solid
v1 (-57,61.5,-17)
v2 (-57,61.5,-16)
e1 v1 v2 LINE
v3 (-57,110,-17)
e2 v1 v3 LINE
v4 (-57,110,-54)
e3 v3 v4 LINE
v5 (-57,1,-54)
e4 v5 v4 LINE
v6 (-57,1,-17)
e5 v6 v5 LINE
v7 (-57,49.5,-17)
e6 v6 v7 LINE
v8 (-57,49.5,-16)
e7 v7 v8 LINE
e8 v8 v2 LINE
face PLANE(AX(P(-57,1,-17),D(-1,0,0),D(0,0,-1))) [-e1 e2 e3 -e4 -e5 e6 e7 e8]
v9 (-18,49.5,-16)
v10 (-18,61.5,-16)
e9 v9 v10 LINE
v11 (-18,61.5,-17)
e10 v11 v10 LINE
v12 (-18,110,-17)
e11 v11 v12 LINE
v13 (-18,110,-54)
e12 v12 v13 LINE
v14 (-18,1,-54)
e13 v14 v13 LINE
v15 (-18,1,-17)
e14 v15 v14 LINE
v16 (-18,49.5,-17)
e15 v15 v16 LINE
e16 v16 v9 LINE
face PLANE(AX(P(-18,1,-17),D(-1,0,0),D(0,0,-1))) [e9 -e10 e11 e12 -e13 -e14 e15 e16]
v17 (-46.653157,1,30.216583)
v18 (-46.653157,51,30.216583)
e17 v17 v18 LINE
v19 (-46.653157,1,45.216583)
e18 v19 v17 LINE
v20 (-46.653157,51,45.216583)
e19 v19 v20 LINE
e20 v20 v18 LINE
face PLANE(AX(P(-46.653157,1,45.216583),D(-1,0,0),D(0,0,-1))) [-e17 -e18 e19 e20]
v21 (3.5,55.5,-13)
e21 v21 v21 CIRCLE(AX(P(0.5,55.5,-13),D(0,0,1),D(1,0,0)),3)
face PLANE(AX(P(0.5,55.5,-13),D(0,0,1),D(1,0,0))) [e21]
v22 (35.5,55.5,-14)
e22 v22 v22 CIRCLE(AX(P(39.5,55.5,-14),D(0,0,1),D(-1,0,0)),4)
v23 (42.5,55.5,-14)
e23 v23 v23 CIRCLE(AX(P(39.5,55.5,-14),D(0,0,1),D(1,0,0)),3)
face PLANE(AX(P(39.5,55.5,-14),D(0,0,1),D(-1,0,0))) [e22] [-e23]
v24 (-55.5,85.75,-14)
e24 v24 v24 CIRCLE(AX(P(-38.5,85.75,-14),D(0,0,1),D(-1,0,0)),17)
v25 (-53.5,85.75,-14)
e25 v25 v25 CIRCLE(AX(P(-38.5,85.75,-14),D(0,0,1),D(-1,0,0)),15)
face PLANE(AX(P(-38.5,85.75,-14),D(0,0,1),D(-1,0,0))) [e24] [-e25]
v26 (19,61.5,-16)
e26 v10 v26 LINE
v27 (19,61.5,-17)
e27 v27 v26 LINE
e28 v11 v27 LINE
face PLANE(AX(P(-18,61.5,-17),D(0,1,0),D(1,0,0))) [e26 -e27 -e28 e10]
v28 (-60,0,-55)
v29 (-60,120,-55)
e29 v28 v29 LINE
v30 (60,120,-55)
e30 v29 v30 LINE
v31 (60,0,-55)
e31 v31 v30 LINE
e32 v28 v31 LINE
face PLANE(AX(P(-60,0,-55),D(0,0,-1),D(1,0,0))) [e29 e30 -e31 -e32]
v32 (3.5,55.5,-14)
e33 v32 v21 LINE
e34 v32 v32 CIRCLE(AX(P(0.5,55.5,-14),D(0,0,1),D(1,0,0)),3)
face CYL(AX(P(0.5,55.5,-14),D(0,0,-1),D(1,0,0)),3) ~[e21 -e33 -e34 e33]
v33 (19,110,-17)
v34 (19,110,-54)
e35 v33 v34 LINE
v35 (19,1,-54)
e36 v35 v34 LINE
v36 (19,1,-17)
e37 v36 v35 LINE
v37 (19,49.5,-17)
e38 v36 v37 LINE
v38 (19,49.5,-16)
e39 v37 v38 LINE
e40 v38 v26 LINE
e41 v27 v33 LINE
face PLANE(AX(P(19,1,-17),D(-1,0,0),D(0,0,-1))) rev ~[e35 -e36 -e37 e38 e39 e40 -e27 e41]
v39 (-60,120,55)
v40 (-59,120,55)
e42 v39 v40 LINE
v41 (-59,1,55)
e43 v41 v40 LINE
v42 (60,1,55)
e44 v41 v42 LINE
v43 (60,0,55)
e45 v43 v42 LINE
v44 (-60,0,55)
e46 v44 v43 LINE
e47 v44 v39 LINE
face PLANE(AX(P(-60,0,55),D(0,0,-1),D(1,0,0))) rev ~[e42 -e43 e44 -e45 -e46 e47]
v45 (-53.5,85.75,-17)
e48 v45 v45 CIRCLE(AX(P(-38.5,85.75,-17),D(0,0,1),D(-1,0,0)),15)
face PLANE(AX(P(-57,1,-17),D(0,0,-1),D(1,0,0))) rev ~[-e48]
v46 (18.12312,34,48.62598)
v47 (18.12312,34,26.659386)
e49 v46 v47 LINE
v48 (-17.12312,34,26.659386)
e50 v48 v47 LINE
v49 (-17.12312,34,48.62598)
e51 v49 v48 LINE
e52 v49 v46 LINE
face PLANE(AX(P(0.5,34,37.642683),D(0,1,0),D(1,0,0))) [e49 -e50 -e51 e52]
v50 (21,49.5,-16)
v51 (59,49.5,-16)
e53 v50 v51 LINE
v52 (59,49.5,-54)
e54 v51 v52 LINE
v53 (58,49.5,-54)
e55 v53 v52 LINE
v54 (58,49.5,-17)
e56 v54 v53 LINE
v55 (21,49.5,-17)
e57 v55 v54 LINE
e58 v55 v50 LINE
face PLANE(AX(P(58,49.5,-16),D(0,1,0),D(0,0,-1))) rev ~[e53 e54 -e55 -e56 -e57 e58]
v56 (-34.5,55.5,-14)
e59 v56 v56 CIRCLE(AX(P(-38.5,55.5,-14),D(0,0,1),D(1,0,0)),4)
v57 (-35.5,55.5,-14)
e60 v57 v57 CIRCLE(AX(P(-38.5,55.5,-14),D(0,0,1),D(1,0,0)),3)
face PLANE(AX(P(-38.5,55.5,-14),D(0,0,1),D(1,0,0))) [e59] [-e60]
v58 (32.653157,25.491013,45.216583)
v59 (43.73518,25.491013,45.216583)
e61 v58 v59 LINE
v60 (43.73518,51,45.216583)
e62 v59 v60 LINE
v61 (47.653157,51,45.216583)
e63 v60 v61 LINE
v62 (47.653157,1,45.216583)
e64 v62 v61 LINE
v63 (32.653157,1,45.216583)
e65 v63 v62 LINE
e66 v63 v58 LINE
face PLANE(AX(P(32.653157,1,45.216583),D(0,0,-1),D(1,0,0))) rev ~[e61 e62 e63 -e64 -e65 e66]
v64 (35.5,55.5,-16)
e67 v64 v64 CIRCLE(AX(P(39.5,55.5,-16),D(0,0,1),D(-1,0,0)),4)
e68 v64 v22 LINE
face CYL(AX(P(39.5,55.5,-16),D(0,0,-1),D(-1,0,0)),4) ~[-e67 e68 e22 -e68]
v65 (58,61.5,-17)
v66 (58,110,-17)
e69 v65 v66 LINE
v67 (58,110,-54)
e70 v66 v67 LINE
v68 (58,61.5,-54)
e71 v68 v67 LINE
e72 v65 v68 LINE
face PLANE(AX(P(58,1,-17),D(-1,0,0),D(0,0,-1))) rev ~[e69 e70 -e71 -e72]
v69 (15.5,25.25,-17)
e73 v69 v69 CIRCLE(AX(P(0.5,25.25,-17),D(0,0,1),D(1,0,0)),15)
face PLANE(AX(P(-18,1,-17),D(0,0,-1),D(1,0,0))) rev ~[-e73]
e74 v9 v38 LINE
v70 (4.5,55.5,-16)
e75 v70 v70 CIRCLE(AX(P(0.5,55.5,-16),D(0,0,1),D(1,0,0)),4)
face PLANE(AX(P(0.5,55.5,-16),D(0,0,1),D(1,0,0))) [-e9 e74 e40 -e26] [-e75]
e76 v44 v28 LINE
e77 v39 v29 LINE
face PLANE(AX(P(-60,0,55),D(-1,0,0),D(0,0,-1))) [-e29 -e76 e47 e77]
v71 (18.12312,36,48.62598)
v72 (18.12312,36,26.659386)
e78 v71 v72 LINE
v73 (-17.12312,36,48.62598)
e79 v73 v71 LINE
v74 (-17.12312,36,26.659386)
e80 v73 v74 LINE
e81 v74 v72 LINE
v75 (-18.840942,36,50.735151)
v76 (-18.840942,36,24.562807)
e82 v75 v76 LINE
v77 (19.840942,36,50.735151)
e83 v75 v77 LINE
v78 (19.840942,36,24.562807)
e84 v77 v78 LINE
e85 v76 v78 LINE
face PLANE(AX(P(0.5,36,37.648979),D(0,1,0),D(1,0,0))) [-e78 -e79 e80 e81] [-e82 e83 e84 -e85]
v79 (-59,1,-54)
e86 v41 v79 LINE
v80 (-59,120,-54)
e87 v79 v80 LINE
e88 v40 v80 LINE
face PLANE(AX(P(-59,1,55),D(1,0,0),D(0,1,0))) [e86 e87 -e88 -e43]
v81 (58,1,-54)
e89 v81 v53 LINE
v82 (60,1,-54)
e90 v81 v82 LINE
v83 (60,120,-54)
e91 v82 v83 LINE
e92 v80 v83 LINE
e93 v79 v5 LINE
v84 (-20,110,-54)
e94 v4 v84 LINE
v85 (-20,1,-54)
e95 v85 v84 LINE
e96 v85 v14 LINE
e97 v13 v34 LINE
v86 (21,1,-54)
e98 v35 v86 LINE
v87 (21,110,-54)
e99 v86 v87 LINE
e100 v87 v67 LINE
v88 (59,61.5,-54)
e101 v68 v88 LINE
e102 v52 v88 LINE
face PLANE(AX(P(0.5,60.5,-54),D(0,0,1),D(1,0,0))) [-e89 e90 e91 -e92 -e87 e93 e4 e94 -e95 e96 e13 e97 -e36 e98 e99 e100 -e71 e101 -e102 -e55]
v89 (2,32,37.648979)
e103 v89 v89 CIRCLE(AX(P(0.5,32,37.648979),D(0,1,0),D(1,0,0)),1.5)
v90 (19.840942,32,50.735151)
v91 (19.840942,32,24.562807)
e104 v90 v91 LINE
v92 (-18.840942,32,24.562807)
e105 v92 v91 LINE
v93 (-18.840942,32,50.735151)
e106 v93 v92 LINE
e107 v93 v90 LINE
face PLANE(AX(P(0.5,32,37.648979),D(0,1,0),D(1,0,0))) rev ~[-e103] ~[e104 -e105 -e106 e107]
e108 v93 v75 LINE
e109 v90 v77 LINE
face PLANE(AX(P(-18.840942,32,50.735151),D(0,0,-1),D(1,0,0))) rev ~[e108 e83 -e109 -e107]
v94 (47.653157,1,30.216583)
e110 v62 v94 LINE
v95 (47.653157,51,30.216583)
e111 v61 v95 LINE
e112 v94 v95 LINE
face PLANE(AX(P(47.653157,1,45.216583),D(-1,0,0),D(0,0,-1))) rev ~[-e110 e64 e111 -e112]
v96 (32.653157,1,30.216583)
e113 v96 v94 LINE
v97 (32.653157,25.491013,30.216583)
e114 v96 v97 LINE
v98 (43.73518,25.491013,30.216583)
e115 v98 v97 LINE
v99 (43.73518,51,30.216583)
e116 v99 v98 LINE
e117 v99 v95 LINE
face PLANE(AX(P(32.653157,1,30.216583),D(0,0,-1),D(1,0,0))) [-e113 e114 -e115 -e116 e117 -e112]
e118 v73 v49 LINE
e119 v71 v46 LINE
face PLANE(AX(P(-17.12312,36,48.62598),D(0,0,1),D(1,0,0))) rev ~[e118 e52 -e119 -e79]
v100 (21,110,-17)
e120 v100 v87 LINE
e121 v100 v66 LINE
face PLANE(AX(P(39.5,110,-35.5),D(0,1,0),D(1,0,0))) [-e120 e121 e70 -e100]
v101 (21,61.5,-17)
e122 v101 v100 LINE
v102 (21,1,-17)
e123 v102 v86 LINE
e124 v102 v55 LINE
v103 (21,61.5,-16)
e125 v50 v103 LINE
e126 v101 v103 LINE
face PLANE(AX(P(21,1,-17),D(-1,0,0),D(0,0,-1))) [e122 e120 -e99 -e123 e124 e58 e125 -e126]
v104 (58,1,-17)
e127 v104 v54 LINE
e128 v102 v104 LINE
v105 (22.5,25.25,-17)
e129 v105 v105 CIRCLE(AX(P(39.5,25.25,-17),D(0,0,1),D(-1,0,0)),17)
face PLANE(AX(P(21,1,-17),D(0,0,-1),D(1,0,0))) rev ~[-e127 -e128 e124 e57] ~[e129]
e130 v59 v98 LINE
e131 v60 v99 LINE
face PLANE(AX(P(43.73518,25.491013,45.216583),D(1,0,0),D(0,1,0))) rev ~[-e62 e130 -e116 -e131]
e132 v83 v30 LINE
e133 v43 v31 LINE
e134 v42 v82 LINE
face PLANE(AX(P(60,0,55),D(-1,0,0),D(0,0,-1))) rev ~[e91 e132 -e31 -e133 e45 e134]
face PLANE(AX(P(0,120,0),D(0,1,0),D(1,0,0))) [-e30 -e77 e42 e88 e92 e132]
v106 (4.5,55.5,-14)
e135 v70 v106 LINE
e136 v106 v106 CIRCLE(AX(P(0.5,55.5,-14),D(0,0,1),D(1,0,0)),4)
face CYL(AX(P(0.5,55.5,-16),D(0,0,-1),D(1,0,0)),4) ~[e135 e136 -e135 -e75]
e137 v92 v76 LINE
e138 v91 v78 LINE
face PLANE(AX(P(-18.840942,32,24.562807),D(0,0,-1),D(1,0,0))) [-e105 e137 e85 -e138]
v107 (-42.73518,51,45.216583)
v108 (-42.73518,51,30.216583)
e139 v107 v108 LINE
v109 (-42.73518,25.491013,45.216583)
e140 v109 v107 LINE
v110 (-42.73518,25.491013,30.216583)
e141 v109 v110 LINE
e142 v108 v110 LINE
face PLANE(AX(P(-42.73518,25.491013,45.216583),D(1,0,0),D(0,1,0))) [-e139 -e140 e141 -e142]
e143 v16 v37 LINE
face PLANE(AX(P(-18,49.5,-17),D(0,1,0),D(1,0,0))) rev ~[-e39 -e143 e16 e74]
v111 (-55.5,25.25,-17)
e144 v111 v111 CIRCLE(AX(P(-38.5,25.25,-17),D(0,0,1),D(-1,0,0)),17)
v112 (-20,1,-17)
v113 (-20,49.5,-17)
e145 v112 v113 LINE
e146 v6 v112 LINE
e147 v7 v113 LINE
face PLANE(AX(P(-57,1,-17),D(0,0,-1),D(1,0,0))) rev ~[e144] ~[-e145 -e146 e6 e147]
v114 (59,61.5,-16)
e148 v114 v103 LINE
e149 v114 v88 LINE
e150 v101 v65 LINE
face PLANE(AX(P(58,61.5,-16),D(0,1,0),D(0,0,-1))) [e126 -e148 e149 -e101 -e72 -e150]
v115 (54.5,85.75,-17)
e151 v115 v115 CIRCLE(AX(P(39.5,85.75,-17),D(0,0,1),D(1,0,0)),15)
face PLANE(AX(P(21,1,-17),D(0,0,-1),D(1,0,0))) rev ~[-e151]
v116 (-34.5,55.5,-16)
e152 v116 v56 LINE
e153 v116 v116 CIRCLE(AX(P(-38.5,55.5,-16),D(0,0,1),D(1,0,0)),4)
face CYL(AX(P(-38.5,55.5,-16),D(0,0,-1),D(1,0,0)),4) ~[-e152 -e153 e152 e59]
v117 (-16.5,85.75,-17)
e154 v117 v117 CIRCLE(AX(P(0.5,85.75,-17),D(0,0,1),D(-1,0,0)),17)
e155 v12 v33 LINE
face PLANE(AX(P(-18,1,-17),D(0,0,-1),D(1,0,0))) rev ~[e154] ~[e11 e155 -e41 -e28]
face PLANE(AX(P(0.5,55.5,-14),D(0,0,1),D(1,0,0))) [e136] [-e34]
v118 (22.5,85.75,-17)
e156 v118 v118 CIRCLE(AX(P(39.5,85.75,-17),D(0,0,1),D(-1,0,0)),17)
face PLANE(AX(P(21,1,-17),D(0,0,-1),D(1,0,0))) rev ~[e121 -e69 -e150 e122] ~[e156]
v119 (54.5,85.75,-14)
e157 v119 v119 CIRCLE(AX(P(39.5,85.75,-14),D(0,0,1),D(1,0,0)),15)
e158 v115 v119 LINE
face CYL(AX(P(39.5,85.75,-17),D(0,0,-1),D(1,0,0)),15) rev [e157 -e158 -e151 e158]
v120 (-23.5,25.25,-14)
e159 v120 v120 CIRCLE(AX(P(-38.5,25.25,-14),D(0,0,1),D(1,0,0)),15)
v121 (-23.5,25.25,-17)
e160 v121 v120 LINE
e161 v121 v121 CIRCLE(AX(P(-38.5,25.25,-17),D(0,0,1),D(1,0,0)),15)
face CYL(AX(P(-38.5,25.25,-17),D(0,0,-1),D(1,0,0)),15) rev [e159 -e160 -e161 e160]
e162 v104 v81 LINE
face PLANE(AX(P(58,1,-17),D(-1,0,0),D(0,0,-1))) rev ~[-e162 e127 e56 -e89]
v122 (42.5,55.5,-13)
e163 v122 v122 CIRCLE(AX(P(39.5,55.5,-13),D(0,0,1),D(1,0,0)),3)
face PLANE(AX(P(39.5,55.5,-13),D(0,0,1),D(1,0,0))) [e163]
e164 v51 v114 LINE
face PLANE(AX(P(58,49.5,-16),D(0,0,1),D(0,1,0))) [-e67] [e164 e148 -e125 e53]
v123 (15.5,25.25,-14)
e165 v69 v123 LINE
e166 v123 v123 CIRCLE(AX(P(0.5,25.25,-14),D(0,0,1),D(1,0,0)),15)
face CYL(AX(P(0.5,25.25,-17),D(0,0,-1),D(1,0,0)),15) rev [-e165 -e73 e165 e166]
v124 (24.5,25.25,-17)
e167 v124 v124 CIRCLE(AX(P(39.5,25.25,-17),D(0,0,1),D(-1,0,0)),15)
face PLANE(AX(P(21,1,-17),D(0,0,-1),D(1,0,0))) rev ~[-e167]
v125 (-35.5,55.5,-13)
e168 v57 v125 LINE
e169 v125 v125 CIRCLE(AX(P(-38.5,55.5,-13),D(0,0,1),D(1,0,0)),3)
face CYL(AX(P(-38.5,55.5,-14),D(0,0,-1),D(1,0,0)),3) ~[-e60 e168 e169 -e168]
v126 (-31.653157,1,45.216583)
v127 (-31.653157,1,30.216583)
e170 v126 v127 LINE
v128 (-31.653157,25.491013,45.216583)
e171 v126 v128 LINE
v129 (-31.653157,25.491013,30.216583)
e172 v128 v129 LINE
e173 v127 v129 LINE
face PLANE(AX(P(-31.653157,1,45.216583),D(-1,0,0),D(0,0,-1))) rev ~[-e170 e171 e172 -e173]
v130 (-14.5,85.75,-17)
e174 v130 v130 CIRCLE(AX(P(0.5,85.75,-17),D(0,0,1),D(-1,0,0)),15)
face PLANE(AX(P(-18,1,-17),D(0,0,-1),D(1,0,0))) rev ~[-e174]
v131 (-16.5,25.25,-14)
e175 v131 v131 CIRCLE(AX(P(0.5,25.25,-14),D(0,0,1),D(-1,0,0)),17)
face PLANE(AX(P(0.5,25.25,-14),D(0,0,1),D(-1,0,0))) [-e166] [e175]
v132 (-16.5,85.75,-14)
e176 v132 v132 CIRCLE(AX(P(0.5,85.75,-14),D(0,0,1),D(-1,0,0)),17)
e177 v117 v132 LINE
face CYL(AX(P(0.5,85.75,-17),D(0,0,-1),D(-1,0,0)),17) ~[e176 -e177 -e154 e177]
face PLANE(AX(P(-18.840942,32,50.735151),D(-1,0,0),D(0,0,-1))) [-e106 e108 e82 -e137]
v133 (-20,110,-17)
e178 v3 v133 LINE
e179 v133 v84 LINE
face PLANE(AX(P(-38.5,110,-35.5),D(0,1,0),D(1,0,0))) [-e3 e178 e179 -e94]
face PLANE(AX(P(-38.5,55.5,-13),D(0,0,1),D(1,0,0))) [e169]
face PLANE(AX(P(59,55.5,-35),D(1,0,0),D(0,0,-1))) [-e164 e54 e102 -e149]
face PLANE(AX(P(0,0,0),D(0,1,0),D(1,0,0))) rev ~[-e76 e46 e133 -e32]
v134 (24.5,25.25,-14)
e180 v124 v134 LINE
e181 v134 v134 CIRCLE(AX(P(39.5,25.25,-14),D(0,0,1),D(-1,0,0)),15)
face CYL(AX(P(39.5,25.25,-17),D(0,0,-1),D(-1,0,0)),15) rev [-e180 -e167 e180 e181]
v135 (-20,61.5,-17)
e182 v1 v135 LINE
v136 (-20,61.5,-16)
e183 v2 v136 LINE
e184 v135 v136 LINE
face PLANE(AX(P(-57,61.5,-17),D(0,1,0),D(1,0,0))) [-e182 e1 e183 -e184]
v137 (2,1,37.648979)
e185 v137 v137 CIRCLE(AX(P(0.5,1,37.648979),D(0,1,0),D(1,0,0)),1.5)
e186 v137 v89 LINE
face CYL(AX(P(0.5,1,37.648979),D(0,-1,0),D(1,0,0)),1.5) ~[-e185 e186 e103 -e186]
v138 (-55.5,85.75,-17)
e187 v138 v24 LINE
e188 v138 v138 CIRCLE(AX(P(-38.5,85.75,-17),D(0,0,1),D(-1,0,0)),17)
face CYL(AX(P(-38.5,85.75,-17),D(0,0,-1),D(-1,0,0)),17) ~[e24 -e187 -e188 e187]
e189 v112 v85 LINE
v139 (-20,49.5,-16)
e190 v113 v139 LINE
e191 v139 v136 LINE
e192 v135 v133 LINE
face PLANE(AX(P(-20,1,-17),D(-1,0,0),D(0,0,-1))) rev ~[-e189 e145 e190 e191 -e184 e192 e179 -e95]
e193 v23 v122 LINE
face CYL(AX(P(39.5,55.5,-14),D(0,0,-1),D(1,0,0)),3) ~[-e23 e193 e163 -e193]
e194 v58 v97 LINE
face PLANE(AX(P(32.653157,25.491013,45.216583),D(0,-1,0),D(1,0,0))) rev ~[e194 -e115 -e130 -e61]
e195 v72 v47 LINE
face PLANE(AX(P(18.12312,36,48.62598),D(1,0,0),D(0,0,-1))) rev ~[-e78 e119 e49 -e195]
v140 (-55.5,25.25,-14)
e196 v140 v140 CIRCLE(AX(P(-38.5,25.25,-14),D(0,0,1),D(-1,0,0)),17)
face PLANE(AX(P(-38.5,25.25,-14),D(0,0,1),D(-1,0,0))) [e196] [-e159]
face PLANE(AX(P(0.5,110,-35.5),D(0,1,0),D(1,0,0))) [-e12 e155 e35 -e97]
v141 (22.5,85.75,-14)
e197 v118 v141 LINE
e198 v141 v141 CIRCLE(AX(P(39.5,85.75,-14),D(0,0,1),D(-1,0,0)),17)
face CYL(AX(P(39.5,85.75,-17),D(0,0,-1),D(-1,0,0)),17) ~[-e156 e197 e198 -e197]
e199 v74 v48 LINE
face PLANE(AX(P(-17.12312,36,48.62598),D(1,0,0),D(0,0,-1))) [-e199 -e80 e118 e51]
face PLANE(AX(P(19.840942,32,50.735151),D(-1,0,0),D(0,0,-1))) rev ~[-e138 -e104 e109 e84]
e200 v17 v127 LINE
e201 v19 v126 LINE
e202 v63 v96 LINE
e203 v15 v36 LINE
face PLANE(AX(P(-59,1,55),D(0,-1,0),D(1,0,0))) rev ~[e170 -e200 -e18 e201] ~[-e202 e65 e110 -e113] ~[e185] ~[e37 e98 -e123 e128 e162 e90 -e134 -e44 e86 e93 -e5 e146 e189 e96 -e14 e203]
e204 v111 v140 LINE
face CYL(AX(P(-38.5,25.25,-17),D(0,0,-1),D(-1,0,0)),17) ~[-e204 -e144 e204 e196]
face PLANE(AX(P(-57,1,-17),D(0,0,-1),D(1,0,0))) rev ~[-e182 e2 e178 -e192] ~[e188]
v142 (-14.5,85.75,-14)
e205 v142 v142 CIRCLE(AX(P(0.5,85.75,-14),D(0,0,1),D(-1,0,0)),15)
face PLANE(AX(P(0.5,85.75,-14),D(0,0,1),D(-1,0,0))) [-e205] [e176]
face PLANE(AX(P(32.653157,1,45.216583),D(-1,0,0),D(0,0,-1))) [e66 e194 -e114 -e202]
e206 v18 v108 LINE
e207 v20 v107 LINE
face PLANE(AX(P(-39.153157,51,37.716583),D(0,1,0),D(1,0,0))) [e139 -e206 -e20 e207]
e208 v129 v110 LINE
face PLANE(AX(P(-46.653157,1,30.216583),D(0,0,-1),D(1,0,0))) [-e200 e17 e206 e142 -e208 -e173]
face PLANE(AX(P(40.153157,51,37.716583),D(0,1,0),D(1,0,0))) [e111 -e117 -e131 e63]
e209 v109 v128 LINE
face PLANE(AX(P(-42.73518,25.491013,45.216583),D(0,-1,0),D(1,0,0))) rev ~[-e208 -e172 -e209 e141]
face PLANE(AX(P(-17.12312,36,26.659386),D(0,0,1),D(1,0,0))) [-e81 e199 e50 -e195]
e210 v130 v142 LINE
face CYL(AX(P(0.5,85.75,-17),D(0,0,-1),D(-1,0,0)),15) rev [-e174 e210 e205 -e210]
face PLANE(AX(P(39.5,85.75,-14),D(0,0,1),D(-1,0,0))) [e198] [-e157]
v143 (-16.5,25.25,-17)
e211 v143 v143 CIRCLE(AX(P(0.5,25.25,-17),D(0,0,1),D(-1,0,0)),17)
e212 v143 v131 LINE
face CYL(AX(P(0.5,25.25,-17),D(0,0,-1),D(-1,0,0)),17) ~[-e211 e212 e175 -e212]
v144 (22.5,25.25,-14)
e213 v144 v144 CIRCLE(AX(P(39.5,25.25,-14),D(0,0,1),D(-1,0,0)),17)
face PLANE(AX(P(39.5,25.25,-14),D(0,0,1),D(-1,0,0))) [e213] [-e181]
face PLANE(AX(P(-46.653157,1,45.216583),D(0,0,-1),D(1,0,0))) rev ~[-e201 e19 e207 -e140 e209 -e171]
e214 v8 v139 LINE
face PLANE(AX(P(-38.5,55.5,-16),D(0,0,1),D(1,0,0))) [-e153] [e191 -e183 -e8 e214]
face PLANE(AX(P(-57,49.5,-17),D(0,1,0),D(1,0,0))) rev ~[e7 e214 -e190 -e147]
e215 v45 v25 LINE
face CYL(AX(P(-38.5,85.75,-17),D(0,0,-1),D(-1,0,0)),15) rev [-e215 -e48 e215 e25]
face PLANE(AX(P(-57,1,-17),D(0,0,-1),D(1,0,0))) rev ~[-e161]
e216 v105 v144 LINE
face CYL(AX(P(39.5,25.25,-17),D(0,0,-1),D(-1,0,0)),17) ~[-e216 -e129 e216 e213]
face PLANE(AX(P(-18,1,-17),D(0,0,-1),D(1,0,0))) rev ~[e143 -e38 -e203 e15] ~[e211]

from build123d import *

# Parameters (mm, degrees)
SKETCH_1_W           = 120
SKETCH_1_H           = 110
EXTRUDE_1_DEPTH      = 120
SKETCH_2_W           = 119
SKETCH_2_H           = 119
CUT_EXTRUDE_1_DEPTH  = 109
SKETCH_54_W          = 37
SKETCH_54_H          = 37
EXTRUDE_32_DEPTH     = 109
SKETCH_55_W          = 37
SKETCH_55_H          = 12
EXTRUDE_33_DEPTH     = 1
SKETCH_56_R          = 4
EXTRUDE_34_DEPTH     = 2
SKETCH_57_R          = 3
EXTRUDE_35_DEPTH     = 1
SKETCH_59_R          = 17
SKETCH_59_R_2        = 15
EXTRUDE_36_DEPTH     = 3
SKETCH_60_W          = 38
SKETCH_60_H          = 12
EXTRUDE_37_DEPTH     = 1
SKETCH_61_R          = 1.5
EXTRUDE_38_DEPTH     = 31
SKETCH_62_W          = 38.68188347
SKETCH_62_H          = 26.17234464
EXTRUDE_39_DEPTH     = 4
SKETCH_63_W          = 35.246239362
SKETCH_63_H          = 21.9665941
CUT_EXTRUDE_9_DEPTH  = 2
SKETCH_65_W          = 15
SKETCH_65_H          = 15
EXTRUDE_40_DEPTH     = 50
SKETCH_66_W          = 11.082023192
SKETCH_66_H          = 25.508987467
CUT_EXTRUDE_10_DEPTH = 30


with BuildPart() as part:
    # 스케치1 → 보스-돌출1 (new body)
    with BuildSketch(Plane(origin=(0, 0, 0), x_dir=(1, 0, 0), z_dir=(0, 1, 0))):
        Rectangle(SKETCH_1_W, SKETCH_1_H)
    extrude(amount=EXTRUDE_1_DEPTH)

    # 스케치2 → 컷-돌출1 (cut)
    with BuildSketch(Plane.XY.offset(55)):
        with Locations((0.5, 60.5)):
            Rectangle(SKETCH_2_W, SKETCH_2_H)
    extrude(amount=-CUT_EXTRUDE_1_DEPTH, mode=Mode.SUBTRACT)

    # 스케치54 → 보스-돌출32 (add)
    with BuildSketch(Plane(origin=(0, 1, 0), x_dir=(1, 0, 0), z_dir=(0, 1, 0))):
        with Locations((-38.5, 35.5)):
            Rectangle(SKETCH_54_W, SKETCH_54_H)
        with Locations((0.5, 35.5)):
            Rectangle(SKETCH_54_W, SKETCH_54_H)
        with Locations((39.5, 35.5)):
            Rectangle(SKETCH_54_W, SKETCH_54_H)
    extrude(amount=EXTRUDE_32_DEPTH)

    # 스케치55 → 보스-돌출33 (add)
    with BuildSketch(Plane.XY.offset(-17)):
        with Locations((-38.5, 55.5)):
            Rectangle(SKETCH_55_W, SKETCH_55_H)
        with Locations((0.5, 55.5)):
            Rectangle(SKETCH_55_W, SKETCH_55_H)
        with Locations((39.5, 55.5)):
            Rectangle(SKETCH_55_W, SKETCH_55_H)
    extrude(amount=EXTRUDE_33_DEPTH)

    # 스케치56 → 보스-돌출34 (add)
    with BuildSketch(Plane.XY.offset(-16)):
        with Locations((-38.5, 55.5)):
            Circle(SKETCH_56_R)
        with Locations(Location((39.5, 55.5, 0), (0, 0, 180))):
            Circle(SKETCH_56_R)
        with Locations((0.5, 55.5)):
            Circle(SKETCH_56_R)
    extrude(amount=EXTRUDE_34_DEPTH)

    # 스케치57 → 보스-돌출35 (add)
    with BuildSketch(Plane.XY.offset(-14)):
        with Locations((0.5, 55.5)):
            Circle(SKETCH_57_R)
        with Locations((39.5, 55.5)):
            Circle(SKETCH_57_R)
        with Locations((-38.5, 55.5)):
            Circle(SKETCH_57_R)
    extrude(amount=EXTRUDE_35_DEPTH)

    # 스케치59 → 보스-돌출36 (add)
    # profile 1 of 6: a face of its own
    with BuildSketch(Plane.XY.offset(-17)):
        with Locations(Location((-38.5, 25.25, 0), (0, 0, 180))):
            Circle(SKETCH_59_R)
        with Locations((-38.5, 25.25)):
            Circle(SKETCH_59_R_2, mode=Mode.SUBTRACT)
    # profile 2 of 6: a face of its own
    with BuildSketch(Plane.XY.offset(-17)):
        with Locations(Location((39.5, 25.25, 0), (0, 0, 180))):
            Circle(SKETCH_59_R)
        with Locations(Location((39.5, 25.25, 0), (0, 0, 180))):
            Circle(SKETCH_59_R_2, mode=Mode.SUBTRACT)
    # profile 3 of 6: a face of its own
    with BuildSketch(Plane.XY.offset(-17)):
        with Locations(Location((39.5, 85.75, 0), (0, 0, 180))):
            Circle(SKETCH_59_R)
        with Locations((39.5, 85.75)):
            Circle(SKETCH_59_R_2, mode=Mode.SUBTRACT)
    # profile 4 of 6: a face of its own
    with BuildSketch(Plane.XY.offset(-17)):
        with Locations(Location((-38.5, 85.75, 0), (0, 0, 180))):
            Circle(SKETCH_59_R)
        with Locations(Location((-38.5, 85.75, 0), (0, 0, 180))):
            Circle(SKETCH_59_R_2, mode=Mode.SUBTRACT)
    # profile 5 of 6: a face of its own
    with BuildSketch(Plane.XY.offset(-17)):
        with Locations(Location((0.5, 25.25, 0), (0, 0, 180))):
            Circle(SKETCH_59_R)
        with Locations((0.5, 25.25)):
            Circle(SKETCH_59_R_2, mode=Mode.SUBTRACT)
    # profile 6 of 6: a face of its own
    with BuildSketch(Plane.XY.offset(-17)):
        with Locations(Location((0.5, 85.75, 0), (0, 0, 180))):
            Circle(SKETCH_59_R)
        with Locations(Location((0.5, 85.75, 0), (0, 0, 180))):
            Circle(SKETCH_59_R_2, mode=Mode.SUBTRACT)
    extrude(amount=EXTRUDE_36_DEPTH)

    # 스케치60 → 보스-돌출37 (add)
    with BuildSketch(Plane(origin=(58, 0, 0), x_dir=(0, 0, -1), z_dir=(1, 0, 0))):
        with Locations((35, 55.5)):
            Rectangle(SKETCH_60_W, SKETCH_60_H)
    extrude(amount=EXTRUDE_37_DEPTH)

    # 스케치61 → 보스-돌출38 (add)
    with BuildSketch(Plane(origin=(0, 1, 0), x_dir=(1, 0, 0), z_dir=(0, 1, 0))):
        with Locations((0.5, -37.648978871)):
            Circle(SKETCH_61_R)
    extrude(amount=EXTRUDE_38_DEPTH)

    # 스케치62 → 보스-돌출39 (add)
    with BuildSketch(Plane(origin=(0, 32, 0), x_dir=(1, 0, 0), z_dir=(0, 1, 0))):
        with Locations((0.5, -37.648978871)):
            Rectangle(SKETCH_62_W, SKETCH_62_H)
    extrude(amount=EXTRUDE_39_DEPTH)

    # 스케치63 → 컷-돌출9 (cut)
    with BuildSketch(Plane(origin=(0, 36, 0), x_dir=(1, 0, 0), z_dir=(0, 1, 0))):
        with Locations((0.5, -37.642682595)):
            Rectangle(SKETCH_63_W, SKETCH_63_H)
    extrude(amount=-CUT_EXTRUDE_9_DEPTH, mode=Mode.SUBTRACT)

    # 스케치65 → 보스-돌출40 (add)
    with BuildSketch(Plane(origin=(0, 1, 0), x_dir=(1, 0, 0), z_dir=(0, 1, 0))):
        with Locations((-39.153156526, -37.716582515)):
            Rectangle(SKETCH_65_W, SKETCH_65_H)
        with Locations((40.153156526, -37.716582515)):
            Rectangle(SKETCH_65_W, SKETCH_65_H)
    extrude(amount=EXTRUDE_40_DEPTH)

    # 스케치66 → 컷-돌출10 (cut)
    with BuildSketch(Plane.XY.offset(45.216582515)):
        with Locations((-37.194168122, 38.245506267)):
            Rectangle(SKETCH_66_W, SKETCH_66_H)
        with Locations((38.194168122, 38.245506267)):
            Rectangle(SKETCH_66_W, SKETCH_66_H)
    extrude(amount=-CUT_EXTRUDE_10_DEPTH, mode=Mode.SUBTRACT)


solid = part.part
